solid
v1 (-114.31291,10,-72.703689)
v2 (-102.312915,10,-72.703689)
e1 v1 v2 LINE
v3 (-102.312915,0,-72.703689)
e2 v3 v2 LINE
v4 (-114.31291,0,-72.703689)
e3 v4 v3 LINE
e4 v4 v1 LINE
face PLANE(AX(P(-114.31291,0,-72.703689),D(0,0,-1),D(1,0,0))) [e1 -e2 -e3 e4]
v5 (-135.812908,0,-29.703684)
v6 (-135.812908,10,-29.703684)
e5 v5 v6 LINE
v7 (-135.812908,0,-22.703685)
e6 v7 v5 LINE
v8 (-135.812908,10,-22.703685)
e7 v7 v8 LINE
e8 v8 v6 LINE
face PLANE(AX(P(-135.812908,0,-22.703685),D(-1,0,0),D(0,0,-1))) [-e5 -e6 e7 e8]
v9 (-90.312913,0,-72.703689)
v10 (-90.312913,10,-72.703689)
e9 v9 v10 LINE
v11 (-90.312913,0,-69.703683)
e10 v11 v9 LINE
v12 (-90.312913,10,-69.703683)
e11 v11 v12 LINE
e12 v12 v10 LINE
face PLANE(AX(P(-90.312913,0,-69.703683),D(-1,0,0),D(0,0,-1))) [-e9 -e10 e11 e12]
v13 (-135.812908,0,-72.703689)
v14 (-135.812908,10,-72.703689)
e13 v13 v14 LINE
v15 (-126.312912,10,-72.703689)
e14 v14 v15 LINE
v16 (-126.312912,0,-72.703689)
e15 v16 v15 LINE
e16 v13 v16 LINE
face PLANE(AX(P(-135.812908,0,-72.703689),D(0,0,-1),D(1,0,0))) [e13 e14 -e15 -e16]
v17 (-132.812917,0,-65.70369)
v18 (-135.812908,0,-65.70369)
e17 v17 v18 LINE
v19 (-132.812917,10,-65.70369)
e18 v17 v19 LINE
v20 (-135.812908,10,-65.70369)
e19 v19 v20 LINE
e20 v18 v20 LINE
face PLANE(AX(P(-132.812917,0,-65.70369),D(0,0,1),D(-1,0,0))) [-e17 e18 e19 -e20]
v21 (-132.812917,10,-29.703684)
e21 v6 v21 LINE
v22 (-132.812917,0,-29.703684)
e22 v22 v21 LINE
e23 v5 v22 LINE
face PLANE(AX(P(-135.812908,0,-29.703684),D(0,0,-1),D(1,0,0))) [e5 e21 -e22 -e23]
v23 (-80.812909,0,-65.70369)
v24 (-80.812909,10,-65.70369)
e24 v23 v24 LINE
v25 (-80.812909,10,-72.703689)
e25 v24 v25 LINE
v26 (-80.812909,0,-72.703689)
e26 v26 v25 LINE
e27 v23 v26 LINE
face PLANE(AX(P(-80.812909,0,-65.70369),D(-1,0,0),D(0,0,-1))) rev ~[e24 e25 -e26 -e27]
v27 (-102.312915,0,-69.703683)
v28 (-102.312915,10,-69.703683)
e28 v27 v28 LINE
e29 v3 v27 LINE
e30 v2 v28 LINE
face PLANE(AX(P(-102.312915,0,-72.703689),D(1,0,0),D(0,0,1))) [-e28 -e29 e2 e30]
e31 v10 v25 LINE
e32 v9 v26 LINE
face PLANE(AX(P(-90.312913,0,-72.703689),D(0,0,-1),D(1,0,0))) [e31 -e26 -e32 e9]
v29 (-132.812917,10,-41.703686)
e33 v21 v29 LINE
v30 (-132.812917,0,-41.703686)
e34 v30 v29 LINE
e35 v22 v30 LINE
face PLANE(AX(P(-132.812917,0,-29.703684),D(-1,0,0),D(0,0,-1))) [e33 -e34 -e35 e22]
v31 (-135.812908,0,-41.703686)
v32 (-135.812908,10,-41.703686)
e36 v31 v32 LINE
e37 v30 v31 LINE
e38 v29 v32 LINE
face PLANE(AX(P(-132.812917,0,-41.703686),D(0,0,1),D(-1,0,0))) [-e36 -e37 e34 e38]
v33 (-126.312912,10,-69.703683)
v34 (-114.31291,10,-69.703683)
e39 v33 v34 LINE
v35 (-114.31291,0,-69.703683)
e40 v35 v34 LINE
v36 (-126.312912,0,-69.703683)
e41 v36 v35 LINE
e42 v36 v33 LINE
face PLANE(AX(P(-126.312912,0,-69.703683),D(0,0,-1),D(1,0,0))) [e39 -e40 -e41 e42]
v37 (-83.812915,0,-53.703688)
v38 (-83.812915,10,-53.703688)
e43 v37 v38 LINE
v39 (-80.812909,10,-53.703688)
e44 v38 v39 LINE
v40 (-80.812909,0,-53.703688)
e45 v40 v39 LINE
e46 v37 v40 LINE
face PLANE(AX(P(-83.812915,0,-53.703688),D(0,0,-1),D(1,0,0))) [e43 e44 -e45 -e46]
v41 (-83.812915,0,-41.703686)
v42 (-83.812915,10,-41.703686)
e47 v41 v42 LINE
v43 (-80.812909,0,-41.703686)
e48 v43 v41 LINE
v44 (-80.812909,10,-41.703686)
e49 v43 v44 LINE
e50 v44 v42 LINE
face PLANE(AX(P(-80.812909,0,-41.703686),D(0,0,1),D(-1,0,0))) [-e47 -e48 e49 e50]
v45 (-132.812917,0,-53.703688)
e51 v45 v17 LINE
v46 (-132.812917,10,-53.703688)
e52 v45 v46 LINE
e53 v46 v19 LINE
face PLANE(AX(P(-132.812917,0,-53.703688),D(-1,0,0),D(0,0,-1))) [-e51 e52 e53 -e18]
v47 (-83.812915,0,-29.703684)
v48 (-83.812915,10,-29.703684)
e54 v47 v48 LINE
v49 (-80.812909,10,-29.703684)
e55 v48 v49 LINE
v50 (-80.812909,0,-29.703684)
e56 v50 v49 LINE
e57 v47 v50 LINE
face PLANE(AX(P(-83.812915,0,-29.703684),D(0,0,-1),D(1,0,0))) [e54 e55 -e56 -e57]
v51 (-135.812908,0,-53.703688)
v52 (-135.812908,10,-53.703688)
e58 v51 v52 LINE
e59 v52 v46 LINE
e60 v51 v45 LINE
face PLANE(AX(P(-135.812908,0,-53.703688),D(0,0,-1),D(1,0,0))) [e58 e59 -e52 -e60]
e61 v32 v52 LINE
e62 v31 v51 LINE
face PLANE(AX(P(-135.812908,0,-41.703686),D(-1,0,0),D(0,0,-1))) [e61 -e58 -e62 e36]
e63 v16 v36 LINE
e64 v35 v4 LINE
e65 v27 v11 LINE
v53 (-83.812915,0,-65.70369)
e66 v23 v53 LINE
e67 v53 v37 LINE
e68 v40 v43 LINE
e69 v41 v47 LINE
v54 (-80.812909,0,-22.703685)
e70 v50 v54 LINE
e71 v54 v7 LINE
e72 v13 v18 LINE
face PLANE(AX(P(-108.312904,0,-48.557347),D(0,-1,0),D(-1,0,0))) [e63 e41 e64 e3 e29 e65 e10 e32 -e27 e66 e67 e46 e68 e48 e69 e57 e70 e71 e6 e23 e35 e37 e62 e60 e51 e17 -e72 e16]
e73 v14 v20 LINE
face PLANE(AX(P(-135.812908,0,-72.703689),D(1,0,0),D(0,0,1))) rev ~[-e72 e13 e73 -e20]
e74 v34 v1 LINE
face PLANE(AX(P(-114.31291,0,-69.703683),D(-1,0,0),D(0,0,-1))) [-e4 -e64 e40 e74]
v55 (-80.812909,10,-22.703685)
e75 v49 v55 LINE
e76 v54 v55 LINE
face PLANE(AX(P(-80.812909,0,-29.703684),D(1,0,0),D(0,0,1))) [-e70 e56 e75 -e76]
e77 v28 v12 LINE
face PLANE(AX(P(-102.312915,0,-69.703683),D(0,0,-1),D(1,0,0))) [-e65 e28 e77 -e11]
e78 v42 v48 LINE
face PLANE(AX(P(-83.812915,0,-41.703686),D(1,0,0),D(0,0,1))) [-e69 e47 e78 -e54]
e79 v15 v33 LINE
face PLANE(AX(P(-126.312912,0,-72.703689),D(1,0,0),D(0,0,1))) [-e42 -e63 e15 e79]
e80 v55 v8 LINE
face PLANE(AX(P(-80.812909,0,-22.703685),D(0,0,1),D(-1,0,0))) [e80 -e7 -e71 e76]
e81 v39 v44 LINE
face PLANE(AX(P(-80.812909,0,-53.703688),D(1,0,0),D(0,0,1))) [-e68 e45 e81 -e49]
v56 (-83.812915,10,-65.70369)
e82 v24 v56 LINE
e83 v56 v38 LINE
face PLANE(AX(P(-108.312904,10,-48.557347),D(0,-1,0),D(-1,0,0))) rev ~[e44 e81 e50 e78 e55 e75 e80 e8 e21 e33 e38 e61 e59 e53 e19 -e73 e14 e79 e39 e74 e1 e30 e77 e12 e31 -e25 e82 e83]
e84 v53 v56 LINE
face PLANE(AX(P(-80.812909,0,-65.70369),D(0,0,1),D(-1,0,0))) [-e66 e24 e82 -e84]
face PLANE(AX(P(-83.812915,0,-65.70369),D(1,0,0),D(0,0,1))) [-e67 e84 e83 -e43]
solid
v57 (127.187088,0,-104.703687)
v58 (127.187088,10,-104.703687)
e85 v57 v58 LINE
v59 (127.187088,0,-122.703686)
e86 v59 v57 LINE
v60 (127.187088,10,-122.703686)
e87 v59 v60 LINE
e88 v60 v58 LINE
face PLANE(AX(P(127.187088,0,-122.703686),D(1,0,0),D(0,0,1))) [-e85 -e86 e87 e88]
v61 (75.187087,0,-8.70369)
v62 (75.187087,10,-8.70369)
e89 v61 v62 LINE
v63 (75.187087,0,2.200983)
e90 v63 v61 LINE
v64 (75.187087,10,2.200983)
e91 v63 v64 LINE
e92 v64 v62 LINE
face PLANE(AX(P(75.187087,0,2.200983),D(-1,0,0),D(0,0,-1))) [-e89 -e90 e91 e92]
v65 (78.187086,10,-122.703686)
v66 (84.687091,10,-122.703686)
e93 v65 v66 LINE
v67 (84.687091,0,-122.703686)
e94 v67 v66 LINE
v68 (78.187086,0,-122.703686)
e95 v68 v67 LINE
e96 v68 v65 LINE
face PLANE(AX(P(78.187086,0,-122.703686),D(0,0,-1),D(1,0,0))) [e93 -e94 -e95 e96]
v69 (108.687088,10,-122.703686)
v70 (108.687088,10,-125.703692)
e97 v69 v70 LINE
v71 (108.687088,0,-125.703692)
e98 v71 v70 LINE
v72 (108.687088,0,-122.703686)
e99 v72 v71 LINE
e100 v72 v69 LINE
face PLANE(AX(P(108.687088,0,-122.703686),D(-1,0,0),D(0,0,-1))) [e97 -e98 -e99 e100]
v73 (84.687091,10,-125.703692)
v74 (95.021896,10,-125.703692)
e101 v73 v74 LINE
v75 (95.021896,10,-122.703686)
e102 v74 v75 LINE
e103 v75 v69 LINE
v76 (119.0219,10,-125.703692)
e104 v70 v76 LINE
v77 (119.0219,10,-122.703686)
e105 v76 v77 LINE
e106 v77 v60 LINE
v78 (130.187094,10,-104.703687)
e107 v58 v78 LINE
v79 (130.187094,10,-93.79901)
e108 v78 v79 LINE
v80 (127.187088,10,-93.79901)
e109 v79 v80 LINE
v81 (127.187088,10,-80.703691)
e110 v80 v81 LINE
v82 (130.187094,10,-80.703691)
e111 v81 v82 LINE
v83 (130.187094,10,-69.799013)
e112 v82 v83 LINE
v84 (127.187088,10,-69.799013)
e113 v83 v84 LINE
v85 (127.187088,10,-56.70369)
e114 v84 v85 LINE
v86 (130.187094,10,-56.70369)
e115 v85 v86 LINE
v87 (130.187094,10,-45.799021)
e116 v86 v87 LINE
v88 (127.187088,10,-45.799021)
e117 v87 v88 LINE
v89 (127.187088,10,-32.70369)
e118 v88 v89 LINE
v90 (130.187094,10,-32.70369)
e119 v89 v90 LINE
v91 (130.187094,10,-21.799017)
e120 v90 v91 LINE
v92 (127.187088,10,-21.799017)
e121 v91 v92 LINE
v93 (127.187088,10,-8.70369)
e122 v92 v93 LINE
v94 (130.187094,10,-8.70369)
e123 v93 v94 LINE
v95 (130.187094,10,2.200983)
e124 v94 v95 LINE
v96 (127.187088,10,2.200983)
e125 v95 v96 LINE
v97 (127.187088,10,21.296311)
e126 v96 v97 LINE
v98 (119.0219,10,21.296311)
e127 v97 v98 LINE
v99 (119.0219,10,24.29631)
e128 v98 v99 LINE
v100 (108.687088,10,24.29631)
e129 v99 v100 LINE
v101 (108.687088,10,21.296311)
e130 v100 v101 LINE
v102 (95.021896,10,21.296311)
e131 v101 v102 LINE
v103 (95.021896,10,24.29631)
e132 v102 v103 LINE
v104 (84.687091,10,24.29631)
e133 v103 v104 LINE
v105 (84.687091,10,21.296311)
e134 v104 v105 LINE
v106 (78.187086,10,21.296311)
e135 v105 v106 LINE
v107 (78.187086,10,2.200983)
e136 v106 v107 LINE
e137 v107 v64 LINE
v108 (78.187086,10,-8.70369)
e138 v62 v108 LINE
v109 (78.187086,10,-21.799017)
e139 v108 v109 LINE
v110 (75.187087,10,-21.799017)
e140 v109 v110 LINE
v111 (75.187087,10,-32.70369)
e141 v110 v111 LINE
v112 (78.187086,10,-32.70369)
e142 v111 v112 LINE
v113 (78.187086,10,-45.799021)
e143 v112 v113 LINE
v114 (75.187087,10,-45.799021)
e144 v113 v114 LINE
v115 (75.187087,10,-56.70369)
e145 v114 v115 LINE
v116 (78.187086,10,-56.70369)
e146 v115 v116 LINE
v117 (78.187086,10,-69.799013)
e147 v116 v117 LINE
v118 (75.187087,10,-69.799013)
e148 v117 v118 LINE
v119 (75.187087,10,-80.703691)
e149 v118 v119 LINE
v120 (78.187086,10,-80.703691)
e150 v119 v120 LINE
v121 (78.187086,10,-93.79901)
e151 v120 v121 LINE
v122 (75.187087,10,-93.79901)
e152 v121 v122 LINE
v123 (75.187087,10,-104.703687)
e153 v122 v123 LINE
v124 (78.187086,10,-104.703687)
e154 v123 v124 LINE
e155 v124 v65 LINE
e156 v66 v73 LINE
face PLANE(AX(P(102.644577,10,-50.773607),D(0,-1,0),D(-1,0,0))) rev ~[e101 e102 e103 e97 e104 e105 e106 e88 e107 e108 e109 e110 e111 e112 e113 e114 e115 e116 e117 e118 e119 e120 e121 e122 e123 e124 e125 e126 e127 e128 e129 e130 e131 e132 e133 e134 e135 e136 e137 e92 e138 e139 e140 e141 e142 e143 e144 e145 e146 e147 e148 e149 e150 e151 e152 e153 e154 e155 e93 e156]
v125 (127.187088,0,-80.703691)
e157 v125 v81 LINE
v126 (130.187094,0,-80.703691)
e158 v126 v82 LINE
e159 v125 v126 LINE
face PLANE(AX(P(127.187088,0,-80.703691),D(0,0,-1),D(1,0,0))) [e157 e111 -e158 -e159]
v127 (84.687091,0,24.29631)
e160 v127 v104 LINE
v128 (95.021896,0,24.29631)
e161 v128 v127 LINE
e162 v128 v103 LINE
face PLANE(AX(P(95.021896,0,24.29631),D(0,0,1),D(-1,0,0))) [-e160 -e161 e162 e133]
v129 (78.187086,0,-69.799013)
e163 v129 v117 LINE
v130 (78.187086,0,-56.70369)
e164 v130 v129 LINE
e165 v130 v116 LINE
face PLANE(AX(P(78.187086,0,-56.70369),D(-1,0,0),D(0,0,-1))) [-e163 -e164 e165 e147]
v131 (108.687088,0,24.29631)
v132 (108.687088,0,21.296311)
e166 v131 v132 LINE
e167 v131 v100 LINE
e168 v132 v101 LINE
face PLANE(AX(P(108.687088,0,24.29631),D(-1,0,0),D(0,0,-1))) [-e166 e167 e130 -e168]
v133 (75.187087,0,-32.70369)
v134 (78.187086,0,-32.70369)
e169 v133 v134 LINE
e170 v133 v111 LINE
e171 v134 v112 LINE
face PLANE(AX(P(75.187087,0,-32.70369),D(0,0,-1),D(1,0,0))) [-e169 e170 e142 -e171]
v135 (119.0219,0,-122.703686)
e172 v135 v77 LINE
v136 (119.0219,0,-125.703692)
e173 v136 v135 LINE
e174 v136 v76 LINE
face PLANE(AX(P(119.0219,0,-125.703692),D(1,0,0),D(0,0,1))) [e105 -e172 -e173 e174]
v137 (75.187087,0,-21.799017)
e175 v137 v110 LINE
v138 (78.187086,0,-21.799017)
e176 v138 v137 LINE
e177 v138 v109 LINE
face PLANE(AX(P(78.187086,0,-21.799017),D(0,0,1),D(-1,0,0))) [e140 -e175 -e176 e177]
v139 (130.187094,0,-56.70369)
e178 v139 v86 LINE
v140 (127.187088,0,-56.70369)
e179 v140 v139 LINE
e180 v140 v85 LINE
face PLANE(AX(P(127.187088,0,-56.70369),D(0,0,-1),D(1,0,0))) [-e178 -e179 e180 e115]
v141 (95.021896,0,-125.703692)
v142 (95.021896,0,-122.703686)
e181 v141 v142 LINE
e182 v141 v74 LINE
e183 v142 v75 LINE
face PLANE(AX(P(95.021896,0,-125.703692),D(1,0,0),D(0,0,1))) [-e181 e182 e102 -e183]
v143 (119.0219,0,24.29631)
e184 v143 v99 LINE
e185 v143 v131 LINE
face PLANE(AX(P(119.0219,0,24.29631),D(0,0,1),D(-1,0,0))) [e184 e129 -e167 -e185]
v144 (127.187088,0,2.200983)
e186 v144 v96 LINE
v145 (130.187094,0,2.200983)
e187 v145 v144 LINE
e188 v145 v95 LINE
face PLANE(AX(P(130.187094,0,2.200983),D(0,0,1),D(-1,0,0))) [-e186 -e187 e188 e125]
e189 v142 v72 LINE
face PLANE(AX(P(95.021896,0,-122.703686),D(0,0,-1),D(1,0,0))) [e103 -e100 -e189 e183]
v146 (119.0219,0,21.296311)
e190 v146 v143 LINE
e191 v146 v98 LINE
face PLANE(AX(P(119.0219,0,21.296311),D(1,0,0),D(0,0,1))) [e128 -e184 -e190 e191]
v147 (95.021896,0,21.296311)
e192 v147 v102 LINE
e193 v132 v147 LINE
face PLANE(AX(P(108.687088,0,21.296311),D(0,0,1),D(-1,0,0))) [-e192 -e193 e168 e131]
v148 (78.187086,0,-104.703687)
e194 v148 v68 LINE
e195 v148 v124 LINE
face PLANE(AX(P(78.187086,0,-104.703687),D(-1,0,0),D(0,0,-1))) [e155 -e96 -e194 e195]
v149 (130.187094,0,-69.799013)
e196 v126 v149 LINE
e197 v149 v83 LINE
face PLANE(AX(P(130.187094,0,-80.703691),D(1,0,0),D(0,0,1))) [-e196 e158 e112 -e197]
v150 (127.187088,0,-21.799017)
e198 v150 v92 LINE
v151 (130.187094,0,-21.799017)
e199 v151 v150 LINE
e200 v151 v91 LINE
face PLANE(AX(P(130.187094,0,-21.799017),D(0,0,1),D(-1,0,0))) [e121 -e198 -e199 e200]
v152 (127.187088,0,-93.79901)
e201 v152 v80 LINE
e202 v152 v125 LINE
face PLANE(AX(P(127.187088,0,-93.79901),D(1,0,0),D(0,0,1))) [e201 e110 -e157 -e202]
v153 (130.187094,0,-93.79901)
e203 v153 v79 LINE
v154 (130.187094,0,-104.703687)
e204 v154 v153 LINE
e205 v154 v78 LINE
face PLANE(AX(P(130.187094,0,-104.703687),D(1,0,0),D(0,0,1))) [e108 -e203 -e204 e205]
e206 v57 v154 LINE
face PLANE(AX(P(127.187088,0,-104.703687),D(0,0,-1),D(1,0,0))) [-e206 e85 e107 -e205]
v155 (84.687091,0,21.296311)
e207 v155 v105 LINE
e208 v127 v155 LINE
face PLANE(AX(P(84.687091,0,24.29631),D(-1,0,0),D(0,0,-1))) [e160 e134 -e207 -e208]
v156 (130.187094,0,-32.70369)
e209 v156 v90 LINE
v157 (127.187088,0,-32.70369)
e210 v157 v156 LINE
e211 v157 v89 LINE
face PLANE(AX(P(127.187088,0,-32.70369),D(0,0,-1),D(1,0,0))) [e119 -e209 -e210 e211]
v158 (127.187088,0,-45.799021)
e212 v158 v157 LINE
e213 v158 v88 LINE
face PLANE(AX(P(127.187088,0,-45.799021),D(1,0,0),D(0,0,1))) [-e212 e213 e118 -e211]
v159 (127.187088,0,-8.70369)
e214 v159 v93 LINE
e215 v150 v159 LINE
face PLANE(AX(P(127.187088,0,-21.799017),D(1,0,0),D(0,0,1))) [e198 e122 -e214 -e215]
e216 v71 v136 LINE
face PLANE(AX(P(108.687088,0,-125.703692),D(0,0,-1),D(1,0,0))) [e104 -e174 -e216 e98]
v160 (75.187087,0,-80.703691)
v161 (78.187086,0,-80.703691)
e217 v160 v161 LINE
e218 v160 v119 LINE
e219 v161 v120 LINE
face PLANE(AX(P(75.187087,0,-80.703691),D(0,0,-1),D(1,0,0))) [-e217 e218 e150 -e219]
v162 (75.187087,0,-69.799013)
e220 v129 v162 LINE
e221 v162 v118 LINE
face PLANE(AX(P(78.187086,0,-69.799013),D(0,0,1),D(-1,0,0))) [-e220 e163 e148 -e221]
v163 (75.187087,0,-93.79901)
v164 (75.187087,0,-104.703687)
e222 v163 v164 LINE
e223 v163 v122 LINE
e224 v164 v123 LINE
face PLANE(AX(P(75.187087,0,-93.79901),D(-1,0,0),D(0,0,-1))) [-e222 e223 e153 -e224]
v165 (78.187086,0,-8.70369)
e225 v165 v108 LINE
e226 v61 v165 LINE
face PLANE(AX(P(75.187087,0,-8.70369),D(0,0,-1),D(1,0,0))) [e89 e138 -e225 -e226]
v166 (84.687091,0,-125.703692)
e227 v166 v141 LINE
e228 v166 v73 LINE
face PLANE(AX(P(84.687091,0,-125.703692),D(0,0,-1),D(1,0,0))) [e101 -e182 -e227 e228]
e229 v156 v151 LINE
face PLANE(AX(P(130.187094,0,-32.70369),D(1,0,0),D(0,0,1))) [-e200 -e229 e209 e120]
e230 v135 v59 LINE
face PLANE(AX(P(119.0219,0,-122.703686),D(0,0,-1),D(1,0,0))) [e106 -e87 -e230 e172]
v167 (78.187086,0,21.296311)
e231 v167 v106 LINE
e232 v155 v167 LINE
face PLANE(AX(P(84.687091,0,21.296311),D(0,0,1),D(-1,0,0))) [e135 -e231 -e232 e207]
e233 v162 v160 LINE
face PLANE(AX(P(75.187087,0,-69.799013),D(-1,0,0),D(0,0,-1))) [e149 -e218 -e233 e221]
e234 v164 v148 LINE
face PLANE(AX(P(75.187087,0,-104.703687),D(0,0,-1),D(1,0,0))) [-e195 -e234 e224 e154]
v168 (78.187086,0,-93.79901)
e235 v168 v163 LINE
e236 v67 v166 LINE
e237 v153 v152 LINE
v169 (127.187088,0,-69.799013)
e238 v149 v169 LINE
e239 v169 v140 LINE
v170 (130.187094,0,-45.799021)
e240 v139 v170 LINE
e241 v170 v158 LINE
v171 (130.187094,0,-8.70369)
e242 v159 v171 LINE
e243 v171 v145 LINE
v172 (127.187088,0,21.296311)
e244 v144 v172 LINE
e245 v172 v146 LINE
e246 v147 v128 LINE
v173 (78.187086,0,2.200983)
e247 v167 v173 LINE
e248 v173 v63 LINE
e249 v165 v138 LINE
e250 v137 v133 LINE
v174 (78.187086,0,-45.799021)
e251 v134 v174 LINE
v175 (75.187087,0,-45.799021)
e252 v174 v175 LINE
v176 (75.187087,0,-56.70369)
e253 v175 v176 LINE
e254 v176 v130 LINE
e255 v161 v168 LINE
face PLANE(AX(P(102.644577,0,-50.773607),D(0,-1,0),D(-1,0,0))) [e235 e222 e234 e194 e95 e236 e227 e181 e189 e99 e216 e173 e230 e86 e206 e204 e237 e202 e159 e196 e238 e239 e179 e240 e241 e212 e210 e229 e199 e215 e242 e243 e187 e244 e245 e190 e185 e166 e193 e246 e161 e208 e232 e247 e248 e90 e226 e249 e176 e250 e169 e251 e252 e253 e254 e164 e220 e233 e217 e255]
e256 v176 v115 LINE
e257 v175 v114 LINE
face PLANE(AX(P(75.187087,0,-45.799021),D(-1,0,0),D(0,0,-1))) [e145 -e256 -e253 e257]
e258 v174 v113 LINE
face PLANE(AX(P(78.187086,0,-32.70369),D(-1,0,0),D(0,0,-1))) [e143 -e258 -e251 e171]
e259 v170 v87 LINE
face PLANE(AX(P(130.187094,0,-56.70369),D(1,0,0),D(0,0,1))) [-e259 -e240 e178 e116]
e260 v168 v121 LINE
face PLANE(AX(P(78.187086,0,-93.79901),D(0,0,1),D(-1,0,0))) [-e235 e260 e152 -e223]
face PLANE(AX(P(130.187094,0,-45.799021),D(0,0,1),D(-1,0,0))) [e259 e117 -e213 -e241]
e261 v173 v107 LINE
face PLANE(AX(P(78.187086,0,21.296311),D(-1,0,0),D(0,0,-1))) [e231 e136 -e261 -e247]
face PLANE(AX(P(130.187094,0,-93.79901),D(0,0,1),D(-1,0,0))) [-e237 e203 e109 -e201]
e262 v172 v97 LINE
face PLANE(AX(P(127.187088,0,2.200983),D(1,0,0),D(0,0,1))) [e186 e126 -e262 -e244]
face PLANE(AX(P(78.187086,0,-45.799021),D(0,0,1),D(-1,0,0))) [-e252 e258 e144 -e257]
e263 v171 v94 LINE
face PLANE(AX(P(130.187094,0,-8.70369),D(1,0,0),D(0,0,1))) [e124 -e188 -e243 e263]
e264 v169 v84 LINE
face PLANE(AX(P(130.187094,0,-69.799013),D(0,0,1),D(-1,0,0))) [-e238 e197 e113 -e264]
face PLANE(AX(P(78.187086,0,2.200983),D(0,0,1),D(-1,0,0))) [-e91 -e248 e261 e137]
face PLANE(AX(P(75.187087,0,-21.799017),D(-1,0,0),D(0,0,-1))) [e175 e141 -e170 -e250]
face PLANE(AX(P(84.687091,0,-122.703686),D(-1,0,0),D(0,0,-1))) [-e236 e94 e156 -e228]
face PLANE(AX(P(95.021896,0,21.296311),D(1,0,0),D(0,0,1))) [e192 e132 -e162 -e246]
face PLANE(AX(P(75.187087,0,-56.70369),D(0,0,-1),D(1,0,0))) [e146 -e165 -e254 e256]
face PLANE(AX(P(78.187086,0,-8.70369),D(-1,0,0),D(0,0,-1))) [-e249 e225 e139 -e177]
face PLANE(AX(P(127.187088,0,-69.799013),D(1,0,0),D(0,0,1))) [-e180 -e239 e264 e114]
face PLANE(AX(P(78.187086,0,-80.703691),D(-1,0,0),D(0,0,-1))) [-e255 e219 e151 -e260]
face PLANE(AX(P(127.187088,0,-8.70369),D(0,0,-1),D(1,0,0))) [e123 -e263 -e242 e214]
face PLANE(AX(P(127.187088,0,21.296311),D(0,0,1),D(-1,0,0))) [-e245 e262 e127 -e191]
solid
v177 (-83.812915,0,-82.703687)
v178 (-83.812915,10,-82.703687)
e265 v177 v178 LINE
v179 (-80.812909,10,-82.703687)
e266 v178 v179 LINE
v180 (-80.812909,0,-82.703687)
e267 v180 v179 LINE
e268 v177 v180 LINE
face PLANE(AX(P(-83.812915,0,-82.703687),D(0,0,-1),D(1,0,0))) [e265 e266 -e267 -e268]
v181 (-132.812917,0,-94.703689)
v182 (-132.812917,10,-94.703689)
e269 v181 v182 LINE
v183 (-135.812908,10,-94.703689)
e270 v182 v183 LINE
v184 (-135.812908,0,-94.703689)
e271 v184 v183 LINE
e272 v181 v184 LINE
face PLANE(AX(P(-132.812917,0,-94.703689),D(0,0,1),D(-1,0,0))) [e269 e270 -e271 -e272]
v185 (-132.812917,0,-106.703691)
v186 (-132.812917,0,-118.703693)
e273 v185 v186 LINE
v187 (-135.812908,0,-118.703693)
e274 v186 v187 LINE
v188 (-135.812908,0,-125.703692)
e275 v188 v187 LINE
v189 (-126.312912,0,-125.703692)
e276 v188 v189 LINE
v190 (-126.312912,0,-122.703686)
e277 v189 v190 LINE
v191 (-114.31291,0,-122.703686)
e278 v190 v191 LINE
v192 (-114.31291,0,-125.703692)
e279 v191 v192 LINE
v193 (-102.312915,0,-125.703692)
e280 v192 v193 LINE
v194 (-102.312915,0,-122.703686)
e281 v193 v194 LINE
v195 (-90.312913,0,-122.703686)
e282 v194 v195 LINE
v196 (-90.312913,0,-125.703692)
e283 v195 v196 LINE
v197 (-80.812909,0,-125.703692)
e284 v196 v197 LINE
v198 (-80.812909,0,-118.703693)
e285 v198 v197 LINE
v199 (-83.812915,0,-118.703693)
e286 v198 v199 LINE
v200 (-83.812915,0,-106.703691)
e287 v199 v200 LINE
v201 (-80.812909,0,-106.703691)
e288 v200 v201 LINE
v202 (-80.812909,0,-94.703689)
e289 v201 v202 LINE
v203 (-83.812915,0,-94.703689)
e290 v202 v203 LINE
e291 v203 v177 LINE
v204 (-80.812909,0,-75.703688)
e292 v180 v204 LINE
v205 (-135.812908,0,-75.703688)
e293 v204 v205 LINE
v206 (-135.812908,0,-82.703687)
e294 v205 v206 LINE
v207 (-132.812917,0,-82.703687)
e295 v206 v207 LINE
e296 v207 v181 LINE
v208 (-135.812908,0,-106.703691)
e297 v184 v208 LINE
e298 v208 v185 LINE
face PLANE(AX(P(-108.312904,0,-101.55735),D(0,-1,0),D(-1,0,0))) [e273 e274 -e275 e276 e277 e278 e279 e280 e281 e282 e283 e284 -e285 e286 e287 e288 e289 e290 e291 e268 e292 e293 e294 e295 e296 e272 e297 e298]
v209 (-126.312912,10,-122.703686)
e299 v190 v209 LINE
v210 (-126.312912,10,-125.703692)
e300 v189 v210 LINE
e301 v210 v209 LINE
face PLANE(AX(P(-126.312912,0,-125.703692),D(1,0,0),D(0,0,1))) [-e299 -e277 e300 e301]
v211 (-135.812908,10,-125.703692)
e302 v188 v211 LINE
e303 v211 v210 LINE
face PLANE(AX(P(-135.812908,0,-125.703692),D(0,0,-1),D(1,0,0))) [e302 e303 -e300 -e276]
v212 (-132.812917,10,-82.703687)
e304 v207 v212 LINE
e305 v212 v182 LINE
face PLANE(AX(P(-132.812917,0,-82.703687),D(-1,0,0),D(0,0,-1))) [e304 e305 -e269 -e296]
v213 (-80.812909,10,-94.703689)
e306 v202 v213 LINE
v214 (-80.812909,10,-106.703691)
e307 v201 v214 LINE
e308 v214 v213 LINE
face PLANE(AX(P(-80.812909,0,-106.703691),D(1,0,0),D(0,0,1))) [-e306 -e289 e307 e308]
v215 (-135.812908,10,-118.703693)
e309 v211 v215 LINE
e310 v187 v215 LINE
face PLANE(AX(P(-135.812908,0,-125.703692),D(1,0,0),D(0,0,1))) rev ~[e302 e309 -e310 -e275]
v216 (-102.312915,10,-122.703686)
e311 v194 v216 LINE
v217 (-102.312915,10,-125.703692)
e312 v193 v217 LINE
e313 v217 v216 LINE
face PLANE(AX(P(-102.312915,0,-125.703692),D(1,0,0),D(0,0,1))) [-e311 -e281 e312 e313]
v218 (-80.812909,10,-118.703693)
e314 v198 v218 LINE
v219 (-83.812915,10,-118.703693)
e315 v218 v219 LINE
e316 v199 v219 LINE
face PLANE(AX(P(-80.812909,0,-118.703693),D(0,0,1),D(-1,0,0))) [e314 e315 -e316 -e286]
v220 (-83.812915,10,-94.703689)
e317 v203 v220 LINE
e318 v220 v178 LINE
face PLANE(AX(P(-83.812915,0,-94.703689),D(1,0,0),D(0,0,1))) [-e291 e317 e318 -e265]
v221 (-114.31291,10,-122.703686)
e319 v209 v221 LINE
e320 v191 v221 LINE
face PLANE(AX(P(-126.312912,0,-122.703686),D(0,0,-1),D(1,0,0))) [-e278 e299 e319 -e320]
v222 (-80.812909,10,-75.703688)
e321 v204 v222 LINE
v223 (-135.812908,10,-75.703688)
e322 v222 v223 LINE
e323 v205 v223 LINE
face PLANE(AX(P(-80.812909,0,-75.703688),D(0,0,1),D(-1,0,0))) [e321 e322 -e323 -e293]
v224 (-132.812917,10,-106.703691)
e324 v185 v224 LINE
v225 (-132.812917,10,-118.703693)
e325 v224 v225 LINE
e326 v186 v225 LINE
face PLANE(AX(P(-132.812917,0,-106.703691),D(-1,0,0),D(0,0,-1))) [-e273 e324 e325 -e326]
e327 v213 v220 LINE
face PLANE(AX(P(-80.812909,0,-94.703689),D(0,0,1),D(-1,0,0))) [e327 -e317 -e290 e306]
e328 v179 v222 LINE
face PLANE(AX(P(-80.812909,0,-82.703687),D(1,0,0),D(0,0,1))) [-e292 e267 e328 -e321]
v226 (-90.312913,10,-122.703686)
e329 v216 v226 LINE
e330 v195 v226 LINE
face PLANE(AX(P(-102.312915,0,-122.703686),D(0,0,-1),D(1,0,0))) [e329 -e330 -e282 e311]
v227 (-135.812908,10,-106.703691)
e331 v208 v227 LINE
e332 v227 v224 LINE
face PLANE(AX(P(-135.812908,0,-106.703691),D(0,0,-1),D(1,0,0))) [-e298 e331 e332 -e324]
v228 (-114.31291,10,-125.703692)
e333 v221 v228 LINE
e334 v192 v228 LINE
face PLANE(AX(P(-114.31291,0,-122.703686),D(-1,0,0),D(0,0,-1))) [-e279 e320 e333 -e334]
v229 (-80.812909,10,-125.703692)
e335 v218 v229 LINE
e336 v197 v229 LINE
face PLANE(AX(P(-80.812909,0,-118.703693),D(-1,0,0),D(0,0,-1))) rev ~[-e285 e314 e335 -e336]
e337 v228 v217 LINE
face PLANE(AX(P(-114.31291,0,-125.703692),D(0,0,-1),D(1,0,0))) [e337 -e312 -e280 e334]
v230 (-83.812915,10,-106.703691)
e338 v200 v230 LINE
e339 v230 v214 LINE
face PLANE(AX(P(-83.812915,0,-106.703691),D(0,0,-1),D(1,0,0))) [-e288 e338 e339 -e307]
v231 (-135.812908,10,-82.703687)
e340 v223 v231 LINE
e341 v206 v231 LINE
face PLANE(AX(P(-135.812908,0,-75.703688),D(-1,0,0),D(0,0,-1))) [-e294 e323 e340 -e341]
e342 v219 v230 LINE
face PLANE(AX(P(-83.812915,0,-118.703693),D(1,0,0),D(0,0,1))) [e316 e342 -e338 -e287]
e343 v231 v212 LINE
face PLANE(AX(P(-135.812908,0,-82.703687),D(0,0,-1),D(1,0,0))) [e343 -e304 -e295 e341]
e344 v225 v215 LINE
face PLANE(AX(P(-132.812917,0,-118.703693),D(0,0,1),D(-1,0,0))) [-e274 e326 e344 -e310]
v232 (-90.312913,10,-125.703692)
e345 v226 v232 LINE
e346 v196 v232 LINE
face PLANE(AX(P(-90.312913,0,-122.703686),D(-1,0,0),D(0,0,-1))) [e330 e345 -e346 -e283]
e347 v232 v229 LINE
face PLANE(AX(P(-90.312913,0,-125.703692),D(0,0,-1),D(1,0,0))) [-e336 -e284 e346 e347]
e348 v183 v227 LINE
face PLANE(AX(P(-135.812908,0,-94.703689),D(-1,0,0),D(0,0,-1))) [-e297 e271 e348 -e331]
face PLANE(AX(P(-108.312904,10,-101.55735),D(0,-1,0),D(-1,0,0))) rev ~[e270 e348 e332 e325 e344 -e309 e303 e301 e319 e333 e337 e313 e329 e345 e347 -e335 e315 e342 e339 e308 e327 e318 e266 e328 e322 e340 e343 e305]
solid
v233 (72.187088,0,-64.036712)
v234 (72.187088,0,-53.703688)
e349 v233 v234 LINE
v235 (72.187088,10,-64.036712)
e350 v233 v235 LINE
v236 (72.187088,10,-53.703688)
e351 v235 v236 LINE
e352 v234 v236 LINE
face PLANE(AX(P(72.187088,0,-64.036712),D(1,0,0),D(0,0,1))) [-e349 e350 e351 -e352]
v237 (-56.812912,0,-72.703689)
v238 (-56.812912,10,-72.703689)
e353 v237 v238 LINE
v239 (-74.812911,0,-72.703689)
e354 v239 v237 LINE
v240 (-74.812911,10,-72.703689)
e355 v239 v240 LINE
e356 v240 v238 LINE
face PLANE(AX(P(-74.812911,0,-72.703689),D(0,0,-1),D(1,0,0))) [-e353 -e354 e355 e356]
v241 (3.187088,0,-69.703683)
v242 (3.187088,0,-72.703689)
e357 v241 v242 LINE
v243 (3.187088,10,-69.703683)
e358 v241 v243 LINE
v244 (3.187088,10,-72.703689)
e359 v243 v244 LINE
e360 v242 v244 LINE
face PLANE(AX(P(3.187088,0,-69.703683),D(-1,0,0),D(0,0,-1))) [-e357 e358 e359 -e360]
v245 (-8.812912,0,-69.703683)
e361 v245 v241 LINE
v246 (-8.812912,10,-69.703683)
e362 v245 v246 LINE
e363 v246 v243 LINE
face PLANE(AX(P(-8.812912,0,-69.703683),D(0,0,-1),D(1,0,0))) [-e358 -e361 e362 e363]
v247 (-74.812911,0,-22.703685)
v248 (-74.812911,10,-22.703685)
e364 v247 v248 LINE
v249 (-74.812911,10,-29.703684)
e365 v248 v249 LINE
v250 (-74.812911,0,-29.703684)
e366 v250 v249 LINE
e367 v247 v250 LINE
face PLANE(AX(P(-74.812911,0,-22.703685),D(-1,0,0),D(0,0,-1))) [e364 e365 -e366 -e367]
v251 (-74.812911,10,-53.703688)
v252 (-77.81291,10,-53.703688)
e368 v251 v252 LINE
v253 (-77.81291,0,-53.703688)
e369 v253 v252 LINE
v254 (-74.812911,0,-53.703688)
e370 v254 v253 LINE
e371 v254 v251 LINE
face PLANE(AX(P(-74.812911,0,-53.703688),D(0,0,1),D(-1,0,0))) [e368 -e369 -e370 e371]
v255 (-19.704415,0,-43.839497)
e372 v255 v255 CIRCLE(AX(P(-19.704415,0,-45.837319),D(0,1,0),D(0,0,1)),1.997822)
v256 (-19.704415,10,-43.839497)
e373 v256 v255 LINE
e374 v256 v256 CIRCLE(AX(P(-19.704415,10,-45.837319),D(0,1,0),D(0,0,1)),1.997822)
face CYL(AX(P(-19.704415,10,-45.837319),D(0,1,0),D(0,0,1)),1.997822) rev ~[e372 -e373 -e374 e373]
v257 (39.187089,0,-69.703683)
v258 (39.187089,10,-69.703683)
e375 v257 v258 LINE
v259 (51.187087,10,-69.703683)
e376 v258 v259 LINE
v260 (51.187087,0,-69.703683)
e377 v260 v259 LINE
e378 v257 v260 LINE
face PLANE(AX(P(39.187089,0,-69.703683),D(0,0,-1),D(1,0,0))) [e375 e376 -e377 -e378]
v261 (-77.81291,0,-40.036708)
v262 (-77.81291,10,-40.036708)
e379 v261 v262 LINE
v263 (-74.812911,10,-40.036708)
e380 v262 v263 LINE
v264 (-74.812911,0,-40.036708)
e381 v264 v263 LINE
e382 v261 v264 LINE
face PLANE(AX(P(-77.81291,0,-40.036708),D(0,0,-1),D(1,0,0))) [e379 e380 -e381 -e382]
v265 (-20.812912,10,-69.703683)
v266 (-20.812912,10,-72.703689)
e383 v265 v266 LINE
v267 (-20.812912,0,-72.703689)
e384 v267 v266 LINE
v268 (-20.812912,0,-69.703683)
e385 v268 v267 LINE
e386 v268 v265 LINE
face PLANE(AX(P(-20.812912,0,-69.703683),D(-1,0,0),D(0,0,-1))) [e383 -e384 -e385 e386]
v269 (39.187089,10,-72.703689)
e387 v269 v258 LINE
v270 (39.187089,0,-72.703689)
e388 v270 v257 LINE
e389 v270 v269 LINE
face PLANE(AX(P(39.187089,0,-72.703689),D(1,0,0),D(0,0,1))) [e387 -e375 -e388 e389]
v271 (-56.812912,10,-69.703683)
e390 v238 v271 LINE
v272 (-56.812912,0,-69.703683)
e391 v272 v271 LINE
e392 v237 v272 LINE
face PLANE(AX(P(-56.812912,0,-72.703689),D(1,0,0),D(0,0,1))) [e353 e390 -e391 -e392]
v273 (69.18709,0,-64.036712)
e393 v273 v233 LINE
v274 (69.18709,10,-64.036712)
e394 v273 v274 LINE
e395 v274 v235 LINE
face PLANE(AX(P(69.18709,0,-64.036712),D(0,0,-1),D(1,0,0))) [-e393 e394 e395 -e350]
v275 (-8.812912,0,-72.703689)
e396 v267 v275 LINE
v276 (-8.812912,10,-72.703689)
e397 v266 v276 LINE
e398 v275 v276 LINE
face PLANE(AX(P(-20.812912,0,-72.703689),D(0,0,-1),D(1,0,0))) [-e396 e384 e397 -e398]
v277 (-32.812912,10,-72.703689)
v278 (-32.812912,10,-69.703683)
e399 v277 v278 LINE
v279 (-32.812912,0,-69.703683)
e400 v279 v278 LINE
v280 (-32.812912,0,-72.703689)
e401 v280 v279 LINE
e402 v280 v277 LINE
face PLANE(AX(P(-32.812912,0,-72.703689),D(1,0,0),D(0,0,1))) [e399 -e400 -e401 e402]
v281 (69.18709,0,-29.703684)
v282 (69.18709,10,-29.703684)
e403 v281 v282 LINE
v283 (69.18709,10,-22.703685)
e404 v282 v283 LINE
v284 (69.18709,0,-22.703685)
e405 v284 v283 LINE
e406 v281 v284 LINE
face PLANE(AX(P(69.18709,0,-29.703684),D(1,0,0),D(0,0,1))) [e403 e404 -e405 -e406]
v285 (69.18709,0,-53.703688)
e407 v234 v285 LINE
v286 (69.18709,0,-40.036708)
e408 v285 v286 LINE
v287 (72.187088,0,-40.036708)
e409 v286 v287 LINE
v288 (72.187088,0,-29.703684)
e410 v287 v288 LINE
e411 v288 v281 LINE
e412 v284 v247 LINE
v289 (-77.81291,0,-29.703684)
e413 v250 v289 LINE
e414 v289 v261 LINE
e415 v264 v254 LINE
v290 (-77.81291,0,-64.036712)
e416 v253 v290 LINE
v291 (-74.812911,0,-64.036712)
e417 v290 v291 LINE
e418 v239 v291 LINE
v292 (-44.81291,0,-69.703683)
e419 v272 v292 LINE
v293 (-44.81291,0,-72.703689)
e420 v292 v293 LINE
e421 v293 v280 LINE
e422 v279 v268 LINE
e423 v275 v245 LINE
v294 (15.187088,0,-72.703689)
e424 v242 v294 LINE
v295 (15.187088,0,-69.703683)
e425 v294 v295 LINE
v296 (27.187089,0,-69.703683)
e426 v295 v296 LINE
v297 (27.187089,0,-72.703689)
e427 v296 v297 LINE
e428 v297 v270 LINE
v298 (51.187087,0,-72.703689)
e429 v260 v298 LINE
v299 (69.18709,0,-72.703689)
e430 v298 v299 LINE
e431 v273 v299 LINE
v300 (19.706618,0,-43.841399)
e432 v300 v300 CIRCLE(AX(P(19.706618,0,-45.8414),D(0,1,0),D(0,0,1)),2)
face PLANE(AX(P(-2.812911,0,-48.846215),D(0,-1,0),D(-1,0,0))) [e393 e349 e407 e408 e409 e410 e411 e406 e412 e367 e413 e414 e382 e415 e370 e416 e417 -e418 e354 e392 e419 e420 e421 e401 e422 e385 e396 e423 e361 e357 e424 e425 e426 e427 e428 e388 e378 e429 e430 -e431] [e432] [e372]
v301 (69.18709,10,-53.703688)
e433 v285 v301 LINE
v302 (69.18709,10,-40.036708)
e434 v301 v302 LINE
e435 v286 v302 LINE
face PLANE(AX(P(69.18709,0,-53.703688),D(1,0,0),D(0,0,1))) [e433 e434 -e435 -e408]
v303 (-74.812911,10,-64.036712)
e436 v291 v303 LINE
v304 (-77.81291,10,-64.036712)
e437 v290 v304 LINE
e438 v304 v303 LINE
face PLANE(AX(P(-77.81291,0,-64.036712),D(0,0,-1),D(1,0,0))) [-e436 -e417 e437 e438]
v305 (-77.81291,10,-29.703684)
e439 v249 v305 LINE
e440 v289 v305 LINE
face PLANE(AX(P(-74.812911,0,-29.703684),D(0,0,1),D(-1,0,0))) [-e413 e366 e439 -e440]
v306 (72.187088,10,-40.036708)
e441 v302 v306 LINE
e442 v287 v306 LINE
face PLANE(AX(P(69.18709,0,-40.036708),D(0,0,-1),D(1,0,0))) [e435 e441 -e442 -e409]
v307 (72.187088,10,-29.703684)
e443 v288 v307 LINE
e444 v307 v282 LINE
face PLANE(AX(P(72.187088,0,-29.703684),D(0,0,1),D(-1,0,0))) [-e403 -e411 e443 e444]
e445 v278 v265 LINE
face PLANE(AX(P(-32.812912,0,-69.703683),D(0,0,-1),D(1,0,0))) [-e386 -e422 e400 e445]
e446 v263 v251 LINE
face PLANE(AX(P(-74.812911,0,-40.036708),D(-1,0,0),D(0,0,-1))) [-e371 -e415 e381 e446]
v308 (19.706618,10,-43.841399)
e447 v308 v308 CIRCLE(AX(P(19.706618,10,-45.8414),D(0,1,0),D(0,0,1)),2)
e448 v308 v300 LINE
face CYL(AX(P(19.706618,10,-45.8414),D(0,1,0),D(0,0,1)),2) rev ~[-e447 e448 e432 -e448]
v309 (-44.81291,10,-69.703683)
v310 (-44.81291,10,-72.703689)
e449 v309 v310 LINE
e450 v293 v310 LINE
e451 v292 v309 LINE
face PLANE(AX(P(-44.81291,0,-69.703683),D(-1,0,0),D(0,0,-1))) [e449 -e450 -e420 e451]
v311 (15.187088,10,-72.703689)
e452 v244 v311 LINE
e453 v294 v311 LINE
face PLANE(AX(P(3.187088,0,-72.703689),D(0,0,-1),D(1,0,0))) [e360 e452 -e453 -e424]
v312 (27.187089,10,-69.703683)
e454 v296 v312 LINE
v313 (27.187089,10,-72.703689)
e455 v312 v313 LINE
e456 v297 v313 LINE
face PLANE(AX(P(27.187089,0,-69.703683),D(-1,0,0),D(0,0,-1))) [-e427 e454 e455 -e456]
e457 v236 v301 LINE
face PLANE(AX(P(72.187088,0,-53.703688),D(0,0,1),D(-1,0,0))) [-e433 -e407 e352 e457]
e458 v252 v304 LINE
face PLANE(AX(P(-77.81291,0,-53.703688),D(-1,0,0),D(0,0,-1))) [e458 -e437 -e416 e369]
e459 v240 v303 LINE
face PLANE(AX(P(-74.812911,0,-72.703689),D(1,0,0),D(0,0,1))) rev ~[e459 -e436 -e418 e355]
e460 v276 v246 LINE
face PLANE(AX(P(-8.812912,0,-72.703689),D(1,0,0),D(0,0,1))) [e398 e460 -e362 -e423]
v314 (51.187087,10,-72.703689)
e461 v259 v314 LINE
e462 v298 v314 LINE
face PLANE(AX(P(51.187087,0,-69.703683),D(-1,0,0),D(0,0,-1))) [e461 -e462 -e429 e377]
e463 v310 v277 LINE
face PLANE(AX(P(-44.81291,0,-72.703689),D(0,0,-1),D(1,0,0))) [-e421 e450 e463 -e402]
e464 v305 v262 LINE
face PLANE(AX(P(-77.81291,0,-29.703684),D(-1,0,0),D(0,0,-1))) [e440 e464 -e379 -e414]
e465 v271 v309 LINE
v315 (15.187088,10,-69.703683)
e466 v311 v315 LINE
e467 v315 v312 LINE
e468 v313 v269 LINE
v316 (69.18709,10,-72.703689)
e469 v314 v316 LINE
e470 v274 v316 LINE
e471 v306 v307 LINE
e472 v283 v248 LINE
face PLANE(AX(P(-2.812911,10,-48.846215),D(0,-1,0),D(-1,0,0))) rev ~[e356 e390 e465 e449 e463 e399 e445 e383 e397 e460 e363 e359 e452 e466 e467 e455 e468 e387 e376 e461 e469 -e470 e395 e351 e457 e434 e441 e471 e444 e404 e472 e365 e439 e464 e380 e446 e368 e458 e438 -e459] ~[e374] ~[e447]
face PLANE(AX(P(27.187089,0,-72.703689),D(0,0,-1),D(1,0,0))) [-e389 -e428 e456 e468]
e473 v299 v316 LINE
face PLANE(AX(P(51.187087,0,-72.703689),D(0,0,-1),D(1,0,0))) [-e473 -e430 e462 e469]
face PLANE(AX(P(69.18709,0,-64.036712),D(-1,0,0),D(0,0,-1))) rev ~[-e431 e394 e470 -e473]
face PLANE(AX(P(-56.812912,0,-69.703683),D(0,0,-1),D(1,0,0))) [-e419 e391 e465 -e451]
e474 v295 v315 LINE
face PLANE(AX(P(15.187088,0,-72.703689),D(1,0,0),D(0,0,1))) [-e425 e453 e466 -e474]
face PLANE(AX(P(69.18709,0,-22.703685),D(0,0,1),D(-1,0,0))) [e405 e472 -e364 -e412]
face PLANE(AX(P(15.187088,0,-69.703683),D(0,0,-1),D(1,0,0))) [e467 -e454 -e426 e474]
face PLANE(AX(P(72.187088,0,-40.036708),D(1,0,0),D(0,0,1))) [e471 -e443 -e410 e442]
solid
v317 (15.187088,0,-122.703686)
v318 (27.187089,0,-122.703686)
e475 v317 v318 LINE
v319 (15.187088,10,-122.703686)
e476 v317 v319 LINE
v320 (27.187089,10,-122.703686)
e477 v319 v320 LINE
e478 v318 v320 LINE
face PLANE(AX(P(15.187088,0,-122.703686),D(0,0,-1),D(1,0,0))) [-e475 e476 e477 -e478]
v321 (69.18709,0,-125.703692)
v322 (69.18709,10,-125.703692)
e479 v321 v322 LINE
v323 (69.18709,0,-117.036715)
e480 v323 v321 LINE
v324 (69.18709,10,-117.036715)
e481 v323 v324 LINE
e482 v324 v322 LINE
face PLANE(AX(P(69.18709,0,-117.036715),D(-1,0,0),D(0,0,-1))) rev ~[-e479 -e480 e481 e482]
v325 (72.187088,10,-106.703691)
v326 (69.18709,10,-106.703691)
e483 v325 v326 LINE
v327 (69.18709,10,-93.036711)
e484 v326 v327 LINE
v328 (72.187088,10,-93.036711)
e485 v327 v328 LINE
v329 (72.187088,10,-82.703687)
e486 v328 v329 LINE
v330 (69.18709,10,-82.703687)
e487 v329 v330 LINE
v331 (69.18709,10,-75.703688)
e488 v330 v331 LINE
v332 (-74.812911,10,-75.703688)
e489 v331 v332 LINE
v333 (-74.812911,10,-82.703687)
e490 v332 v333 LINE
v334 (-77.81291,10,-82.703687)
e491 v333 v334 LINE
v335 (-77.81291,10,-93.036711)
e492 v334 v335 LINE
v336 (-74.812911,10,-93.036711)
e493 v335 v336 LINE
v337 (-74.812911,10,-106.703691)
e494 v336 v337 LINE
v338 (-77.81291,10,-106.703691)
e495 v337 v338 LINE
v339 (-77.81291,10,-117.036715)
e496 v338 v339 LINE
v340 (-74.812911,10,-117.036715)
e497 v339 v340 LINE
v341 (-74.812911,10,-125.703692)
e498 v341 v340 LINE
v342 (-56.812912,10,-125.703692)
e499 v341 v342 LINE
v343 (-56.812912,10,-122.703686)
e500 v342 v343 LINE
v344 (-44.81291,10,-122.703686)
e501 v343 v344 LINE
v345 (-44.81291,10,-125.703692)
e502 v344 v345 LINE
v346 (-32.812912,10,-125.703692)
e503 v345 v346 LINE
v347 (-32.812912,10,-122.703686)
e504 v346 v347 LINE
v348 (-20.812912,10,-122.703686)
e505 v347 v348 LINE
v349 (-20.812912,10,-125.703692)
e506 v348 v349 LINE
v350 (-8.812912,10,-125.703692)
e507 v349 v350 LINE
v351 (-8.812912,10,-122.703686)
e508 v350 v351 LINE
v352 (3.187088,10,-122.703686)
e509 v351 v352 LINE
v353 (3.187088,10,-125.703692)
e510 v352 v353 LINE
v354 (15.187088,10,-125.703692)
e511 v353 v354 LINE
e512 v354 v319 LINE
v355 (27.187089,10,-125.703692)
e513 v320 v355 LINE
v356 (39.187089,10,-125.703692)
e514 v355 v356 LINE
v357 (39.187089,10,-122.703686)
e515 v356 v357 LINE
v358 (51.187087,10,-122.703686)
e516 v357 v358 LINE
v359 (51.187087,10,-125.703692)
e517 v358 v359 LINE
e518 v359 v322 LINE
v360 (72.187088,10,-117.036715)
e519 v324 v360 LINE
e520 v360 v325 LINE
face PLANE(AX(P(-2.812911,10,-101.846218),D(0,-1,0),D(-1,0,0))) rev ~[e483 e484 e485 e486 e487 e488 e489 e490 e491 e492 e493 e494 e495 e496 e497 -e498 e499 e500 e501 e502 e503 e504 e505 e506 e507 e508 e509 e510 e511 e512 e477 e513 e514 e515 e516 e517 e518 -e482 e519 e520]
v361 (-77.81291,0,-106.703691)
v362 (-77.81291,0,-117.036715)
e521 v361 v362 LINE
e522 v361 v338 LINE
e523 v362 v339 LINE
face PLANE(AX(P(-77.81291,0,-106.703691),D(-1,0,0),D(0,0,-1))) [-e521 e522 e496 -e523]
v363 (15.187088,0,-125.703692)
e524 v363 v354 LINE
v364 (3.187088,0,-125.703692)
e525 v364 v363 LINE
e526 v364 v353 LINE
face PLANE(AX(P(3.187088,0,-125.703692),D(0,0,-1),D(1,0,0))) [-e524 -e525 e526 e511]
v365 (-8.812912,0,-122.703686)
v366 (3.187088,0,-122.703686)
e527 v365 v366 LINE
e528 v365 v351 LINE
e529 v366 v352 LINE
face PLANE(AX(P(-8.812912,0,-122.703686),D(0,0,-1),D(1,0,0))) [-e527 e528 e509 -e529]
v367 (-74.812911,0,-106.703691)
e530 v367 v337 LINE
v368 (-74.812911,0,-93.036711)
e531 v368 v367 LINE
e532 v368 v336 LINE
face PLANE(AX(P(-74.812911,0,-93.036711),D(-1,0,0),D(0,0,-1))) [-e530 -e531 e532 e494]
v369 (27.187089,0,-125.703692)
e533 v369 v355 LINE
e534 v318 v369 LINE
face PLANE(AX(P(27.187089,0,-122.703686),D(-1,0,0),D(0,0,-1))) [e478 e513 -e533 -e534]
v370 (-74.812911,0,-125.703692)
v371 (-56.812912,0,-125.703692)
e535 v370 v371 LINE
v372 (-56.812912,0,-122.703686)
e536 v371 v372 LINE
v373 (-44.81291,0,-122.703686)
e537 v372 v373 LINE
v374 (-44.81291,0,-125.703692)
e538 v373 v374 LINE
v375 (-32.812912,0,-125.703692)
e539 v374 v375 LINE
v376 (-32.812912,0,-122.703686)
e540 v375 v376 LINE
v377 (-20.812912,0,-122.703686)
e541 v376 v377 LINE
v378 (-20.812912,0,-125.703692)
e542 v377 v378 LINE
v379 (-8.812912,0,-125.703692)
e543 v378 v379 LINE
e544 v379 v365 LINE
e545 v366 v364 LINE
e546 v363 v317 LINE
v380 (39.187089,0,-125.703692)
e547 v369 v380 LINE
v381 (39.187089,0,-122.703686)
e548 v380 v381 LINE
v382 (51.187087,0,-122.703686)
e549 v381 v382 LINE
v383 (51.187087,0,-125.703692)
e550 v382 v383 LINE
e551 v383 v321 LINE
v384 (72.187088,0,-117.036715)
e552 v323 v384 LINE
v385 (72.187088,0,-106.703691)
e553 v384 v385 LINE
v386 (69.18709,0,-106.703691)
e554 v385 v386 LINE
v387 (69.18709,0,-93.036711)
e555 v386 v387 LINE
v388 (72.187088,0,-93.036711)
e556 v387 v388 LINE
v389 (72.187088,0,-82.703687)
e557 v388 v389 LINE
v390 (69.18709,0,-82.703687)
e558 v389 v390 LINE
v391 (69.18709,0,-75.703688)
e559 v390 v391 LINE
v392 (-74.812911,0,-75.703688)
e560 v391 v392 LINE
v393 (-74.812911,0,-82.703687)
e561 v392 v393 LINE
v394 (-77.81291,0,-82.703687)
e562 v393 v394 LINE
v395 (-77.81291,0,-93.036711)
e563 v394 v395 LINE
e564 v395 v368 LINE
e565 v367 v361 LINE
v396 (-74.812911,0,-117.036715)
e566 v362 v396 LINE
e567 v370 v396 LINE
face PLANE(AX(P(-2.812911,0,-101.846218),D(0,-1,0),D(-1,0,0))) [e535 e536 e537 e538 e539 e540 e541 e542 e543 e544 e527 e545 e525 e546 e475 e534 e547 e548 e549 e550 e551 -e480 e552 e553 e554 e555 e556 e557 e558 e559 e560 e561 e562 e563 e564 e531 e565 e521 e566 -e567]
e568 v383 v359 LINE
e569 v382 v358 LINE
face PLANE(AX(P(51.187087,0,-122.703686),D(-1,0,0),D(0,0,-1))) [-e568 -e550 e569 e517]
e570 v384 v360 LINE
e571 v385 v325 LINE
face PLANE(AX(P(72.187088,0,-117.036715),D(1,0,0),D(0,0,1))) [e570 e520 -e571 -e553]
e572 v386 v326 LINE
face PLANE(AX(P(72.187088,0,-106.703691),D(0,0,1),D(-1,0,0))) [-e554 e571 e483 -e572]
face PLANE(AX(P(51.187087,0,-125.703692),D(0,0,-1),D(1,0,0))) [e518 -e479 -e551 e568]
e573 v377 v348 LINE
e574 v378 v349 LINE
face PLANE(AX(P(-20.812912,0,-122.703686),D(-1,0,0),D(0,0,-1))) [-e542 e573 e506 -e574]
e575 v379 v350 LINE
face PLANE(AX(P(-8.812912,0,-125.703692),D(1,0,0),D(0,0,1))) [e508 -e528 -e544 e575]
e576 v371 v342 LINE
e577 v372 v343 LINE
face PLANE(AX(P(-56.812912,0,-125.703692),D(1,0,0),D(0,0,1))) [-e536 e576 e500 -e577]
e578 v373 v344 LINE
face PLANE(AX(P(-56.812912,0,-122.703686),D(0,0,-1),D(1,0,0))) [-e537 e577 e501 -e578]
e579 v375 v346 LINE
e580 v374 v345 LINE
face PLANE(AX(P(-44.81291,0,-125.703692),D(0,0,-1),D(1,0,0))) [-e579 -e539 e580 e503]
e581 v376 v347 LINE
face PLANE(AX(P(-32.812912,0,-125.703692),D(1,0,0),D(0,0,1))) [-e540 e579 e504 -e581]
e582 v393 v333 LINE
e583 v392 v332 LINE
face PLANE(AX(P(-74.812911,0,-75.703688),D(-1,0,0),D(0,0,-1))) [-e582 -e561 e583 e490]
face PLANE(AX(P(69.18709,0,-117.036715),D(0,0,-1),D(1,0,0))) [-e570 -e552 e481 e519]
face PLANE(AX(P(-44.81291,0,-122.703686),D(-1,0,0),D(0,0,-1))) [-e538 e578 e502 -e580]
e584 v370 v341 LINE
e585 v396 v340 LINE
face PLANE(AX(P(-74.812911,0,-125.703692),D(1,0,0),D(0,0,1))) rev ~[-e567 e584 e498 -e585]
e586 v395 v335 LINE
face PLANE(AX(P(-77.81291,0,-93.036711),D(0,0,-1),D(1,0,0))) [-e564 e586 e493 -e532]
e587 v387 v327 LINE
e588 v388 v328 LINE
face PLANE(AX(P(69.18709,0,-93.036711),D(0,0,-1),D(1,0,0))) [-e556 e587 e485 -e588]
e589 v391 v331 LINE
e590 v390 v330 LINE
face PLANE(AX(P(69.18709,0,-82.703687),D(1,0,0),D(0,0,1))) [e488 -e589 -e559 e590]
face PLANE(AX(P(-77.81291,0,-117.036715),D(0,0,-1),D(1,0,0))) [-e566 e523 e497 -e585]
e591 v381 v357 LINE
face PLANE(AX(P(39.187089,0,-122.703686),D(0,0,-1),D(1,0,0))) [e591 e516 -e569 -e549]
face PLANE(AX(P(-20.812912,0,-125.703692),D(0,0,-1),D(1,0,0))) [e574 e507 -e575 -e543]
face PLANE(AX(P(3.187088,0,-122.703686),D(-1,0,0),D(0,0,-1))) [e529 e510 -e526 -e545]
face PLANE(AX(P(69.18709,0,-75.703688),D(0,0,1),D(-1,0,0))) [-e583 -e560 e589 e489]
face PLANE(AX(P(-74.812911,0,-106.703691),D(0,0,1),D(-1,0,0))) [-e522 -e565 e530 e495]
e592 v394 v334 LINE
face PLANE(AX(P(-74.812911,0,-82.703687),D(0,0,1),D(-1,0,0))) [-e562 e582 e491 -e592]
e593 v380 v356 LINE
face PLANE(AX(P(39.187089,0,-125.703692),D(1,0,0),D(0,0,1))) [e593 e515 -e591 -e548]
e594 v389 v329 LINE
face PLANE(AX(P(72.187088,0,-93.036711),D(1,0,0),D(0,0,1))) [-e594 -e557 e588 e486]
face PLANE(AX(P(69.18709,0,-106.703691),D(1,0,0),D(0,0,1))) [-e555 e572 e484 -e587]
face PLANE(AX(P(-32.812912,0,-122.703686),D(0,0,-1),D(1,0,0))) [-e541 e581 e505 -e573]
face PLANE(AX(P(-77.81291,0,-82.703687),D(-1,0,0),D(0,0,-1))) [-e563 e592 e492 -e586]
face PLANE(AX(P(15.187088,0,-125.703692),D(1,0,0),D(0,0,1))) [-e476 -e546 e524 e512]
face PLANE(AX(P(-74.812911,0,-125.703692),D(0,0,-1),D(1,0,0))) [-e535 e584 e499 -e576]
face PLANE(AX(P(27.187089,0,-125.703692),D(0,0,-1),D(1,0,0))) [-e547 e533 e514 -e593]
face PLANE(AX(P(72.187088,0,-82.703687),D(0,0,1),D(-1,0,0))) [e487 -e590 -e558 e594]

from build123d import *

# Parameters (mm, degrees)
BOSS_EXTRUDE1_DEPTH   = 10
BOSS_EXTRUDE1_2_DEPTH = 10
BOSS_EXTRUDE1_3_DEPTH = 10
BOSS_EXTRUDE1_4_DEPTH = 10
BOSS_EXTRUDE1_5_DEPTH = 10
SKETCH2_R             = 1.997822351
SKETCH2_R_2           = 2.000000328
CUT_EXTRUDE1_DEPTH    = 186.328261156


with BuildPart() as part:
    # Sketch1 → Boss-Extrude1 (new body)
    with BuildSketch(Plane(origin=(0, 0, 0), x_dir=(1, 0, 0), z_dir=(0, 1, 0))):
        Polygon((-32.812912017, 122.703686357), (-20.812911913, 122.703686357), (-20.812911913, 125.703692436), (-8.812911808, 125.703692436), (-8.812911808, 122.703686357), (3.187088063, 122.703686357), (3.187088063, 125.703692436), (15.1870884, 125.703692436), (15.1870884, 122.703686357), (27.187088504, 122.703686357), (27.187088504, 125.703692436), (39.187088609, 125.703692436), (39.187088609, 122.703686357), (51.18708685, 122.703686357), (51.18708685, 125.703692436), (69.187089801, 125.703692436), (69.187089801, 122.703686357), (69.187089801, 117.03671515), (72.18708843, 117.03671515), (72.18708843, 106.703691185), (69.187089801, 106.703691185), (69.187089801, 93.036711216), (72.18708843, 93.036711216), (72.18708843, 82.703687251), (69.187089801, 82.703687251), (69.187089801, 75.703687966), (-74.812911451, 75.703687966), (-74.812911451, 82.703687251), (-77.81291008, 82.703687251), (-77.81291008, 93.036711216), (-74.812911451, 93.036711216), (-74.812911451, 106.703691185), (-77.81291008, 106.703691185), (-77.81291008, 117.03671515), (-74.812911451, 117.03671515), (-74.812911451, 122.703686357), (-74.812911451, 125.703692436), (-56.812912226, 125.703692436), (-56.812912226, 122.703686357), (-44.812910259, 122.703686357), (-44.812910259, 125.703692436), (-32.812912017, 125.703692436), align=None)
    extrude(amount=BOSS_EXTRUDE1_DEPTH)


with BuildPart() as body_2:
    # Sketch1 → Boss-Extrude1 2 (new body)
    with BuildSketch(Plane(origin=(0, 0, 0), x_dir=(1, 0, 0), z_dir=(0, 1, 0))):
        Polygon((-135.812908411, 125.703692436), (-126.31291151, 125.703692436), (-126.31291151, 122.703686357), (-114.312909544, 122.703686357), (-114.312909544, 125.703692436), (-102.312915027, 125.703692436), (-102.312915027, 122.703686357), (-90.31291306, 122.703686357), (-90.31291306, 125.703692436), (-80.812908709, 125.703692436), (-80.812908709, 122.703686357), (-80.812908709, 118.703693151), (-83.812914789, 118.703693151), (-83.812914789, 106.703691185), (-80.812908709, 106.703691185), (-80.812908709, 94.703689218), (-83.812914789, 94.703689218), (-83.812914789, 82.703687251), (-80.812908709, 82.703687251), (-80.812908709, 75.703687966), (-135.812908411, 75.703687966), (-135.812908411, 82.703687251), (-132.812917233, 82.703687251), (-132.812917233, 94.703689218), (-135.812908411, 94.703689218), (-135.812908411, 106.703691185), (-132.812917233, 106.703691185), (-132.812917233, 118.703693151), (-135.812908411, 118.703693151), (-135.812908411, 122.703686357), align=None)
    extrude(amount=BOSS_EXTRUDE1_2_DEPTH)


with BuildPart() as body_3:
    # Sketch1 → Boss-Extrude1 3 (new body)
    with BuildSketch(Plane(origin=(0, 0, 0), x_dir=(1, 0, 0), z_dir=(0, 1, 0))):
        Polygon((-135.812908411, 72.703689337), (-126.31291151, 72.703689337), (-126.31291151, 69.703683257), (-114.312909544, 69.703683257), (-114.312909544, 72.703689337), (-102.312915027, 72.703689337), (-102.312915027, 69.703683257), (-90.31291306, 69.703683257), (-90.31291306, 72.703689337), (-80.812908709, 72.703689337), (-80.812908709, 69.703683257), (-80.812908709, 65.703690052), (-83.812914789, 65.703690052), (-83.812914789, 53.703688085), (-80.812908709, 53.703688085), (-80.812908709, 41.703686118), (-83.812914789, 41.703686118), (-83.812914789, 29.703684151), (-80.812908709, 29.703684151), (-80.812908709, 22.703684866), (-135.812908411, 22.703684866), (-135.812908411, 29.703684151), (-132.812917233, 29.703684151), (-132.812917233, 41.703686118), (-135.812908411, 41.703686118), (-135.812908411, 53.703688085), (-132.812917233, 53.703688085), (-132.812917233, 65.703690052), (-135.812908411, 65.703690052), (-135.812908411, 69.703683257), align=None)
    extrude(amount=BOSS_EXTRUDE1_3_DEPTH)


with BuildPart() as body_4:
    # Sketch1 → Boss-Extrude1 4 (new body)
    with BuildSketch(Plane(origin=(0, 0, 0), x_dir=(1, 0, 0), z_dir=(0, 1, 0))):
        Polygon((-32.812912017, 69.703683257), (-20.812911913, 69.703683257), (-20.812911913, 72.703689337), (-8.812911808, 72.703689337), (-8.812911808, 69.703683257), (3.187088063, 69.703683257), (3.187088063, 72.703689337), (15.1870884, 72.703689337), (15.1870884, 69.703683257), (27.187088504, 69.703683257), (27.187088504, 72.703689337), (39.187088609, 72.703689337), (39.187088609, 69.703683257), (51.18708685, 69.703683257), (51.18708685, 72.703689337), (69.187089801, 72.703689337), (69.187089801, 69.703683257), (69.187089801, 64.03671205), (72.18708843, 64.03671205), (72.18708843, 53.703688085), (69.187089801, 53.703688085), (69.187089801, 40.036708117), (72.18708843, 40.036708117), (72.18708843, 29.703684151), (69.187089801, 29.703684151), (69.187089801, 22.703684866), (-74.812911451, 22.703684866), (-74.812911451, 29.703684151), (-77.81291008, 29.703684151), (-77.81291008, 40.036708117), (-74.812911451, 40.036708117), (-74.812911451, 53.703688085), (-77.81291008, 53.703688085), (-77.81291008, 64.03671205), (-74.812911451, 64.03671205), (-74.812911451, 69.703683257), (-74.812911451, 72.703689337), (-56.812912226, 72.703689337), (-56.812912226, 69.703683257), (-44.812910259, 69.703683257), (-44.812910259, 72.703689337), (-32.812912017, 72.703689337), align=None)
    extrude(amount=BOSS_EXTRUDE1_4_DEPTH)

    # Sketch2 → Cut-Extrude1 (cut, through all)
    with BuildSketch(Plane(origin=(0, 10, 0), x_dir=(1, 0, 0), z_dir=(0, 1, 0))):
        with Locations(Location((-19.704415408, 45.837319398, 0), (0, 0, 270))):
            Circle(SKETCH2_R)
        with Locations(Location((19.706618041, 45.84139958, 0), (0, 0, 270))):
            Circle(SKETCH2_R_2)
    extrude(amount=-CUT_EXTRUDE1_DEPTH, mode=Mode.SUBTRACT)


with BuildPart() as body_5:
    # Sketch1 → Boss-Extrude1 5 (new body)
    with BuildSketch(Plane(origin=(0, 0, 0), x_dir=(1, 0, 0), z_dir=(0, 1, 0))):
        Polygon((95.021896064, 122.703686357), (108.687087893, 122.703686357), (108.687087893, 125.703692436), (119.021899998, 125.703692436), (119.021899998, 122.703686357), (127.187088132, 122.703686357), (127.187088132, 104.703687131), (130.187094212, 104.703687131), (130.187094212, 93.799009919), (127.187088132, 93.799009919), (127.187088132, 80.703690648), (130.187094212, 80.703690648), (130.187094212, 69.799013436), (127.187088132, 69.799013436), (127.187088132, 56.703690439), (130.187094212, 56.703690439), (130.187094212, 45.799020678), (127.187088132, 45.799020678), (127.187088132, 32.703690231), (130.187094212, 32.703690231), (130.187094212, 21.799016744), (127.187088132, 21.799016744), (127.187088132, 8.703690022), (130.187094212, 8.703690022), (130.187094212, -2.200983232), (127.187088132, -2.200983232), (127.187088132, -21.29631117), (119.021899998, -21.29631117), (119.021899998, -24.296309799), (108.687087893, -24.296309799), (108.687087893, -21.29631117), (95.021896064, -21.29631117), (95.021896064, -24.296309799), (84.68709141, -24.296309799), (84.68709141, -21.29631117), (78.187085688, -21.29631117), (78.187085688, -2.200983232), (75.187087059, -2.200983232), (75.187087059, 8.703690022), (78.187085688, 8.703690022), (78.187085688, 21.799016744), (75.187087059, 21.799016744), (75.187087059, 32.703690231), (78.187085688, 32.703690231), (78.187085688, 45.799020678), (75.187087059, 45.799020678), (75.187087059, 56.703690439), (78.187085688, 56.703690439), (78.187085688, 69.799013436), (75.187087059, 69.799013436), (75.187087059, 80.703690648), (78.187085688, 80.703690648), (78.187085688, 93.799009919), (75.187087059, 93.799009919), (75.187087059, 104.703687131), (78.187085688, 104.703687131), (78.187085688, 122.703686357), (84.68709141, 122.703686357), (84.68709141, 125.703692436), (95.021896064, 125.703692436), align=None)
    extrude(amount=BOSS_EXTRUDE1_5_DEPTH)


solid = Compound([part.part, body_2.part, body_3.part, body_4.part, body_5.part])
